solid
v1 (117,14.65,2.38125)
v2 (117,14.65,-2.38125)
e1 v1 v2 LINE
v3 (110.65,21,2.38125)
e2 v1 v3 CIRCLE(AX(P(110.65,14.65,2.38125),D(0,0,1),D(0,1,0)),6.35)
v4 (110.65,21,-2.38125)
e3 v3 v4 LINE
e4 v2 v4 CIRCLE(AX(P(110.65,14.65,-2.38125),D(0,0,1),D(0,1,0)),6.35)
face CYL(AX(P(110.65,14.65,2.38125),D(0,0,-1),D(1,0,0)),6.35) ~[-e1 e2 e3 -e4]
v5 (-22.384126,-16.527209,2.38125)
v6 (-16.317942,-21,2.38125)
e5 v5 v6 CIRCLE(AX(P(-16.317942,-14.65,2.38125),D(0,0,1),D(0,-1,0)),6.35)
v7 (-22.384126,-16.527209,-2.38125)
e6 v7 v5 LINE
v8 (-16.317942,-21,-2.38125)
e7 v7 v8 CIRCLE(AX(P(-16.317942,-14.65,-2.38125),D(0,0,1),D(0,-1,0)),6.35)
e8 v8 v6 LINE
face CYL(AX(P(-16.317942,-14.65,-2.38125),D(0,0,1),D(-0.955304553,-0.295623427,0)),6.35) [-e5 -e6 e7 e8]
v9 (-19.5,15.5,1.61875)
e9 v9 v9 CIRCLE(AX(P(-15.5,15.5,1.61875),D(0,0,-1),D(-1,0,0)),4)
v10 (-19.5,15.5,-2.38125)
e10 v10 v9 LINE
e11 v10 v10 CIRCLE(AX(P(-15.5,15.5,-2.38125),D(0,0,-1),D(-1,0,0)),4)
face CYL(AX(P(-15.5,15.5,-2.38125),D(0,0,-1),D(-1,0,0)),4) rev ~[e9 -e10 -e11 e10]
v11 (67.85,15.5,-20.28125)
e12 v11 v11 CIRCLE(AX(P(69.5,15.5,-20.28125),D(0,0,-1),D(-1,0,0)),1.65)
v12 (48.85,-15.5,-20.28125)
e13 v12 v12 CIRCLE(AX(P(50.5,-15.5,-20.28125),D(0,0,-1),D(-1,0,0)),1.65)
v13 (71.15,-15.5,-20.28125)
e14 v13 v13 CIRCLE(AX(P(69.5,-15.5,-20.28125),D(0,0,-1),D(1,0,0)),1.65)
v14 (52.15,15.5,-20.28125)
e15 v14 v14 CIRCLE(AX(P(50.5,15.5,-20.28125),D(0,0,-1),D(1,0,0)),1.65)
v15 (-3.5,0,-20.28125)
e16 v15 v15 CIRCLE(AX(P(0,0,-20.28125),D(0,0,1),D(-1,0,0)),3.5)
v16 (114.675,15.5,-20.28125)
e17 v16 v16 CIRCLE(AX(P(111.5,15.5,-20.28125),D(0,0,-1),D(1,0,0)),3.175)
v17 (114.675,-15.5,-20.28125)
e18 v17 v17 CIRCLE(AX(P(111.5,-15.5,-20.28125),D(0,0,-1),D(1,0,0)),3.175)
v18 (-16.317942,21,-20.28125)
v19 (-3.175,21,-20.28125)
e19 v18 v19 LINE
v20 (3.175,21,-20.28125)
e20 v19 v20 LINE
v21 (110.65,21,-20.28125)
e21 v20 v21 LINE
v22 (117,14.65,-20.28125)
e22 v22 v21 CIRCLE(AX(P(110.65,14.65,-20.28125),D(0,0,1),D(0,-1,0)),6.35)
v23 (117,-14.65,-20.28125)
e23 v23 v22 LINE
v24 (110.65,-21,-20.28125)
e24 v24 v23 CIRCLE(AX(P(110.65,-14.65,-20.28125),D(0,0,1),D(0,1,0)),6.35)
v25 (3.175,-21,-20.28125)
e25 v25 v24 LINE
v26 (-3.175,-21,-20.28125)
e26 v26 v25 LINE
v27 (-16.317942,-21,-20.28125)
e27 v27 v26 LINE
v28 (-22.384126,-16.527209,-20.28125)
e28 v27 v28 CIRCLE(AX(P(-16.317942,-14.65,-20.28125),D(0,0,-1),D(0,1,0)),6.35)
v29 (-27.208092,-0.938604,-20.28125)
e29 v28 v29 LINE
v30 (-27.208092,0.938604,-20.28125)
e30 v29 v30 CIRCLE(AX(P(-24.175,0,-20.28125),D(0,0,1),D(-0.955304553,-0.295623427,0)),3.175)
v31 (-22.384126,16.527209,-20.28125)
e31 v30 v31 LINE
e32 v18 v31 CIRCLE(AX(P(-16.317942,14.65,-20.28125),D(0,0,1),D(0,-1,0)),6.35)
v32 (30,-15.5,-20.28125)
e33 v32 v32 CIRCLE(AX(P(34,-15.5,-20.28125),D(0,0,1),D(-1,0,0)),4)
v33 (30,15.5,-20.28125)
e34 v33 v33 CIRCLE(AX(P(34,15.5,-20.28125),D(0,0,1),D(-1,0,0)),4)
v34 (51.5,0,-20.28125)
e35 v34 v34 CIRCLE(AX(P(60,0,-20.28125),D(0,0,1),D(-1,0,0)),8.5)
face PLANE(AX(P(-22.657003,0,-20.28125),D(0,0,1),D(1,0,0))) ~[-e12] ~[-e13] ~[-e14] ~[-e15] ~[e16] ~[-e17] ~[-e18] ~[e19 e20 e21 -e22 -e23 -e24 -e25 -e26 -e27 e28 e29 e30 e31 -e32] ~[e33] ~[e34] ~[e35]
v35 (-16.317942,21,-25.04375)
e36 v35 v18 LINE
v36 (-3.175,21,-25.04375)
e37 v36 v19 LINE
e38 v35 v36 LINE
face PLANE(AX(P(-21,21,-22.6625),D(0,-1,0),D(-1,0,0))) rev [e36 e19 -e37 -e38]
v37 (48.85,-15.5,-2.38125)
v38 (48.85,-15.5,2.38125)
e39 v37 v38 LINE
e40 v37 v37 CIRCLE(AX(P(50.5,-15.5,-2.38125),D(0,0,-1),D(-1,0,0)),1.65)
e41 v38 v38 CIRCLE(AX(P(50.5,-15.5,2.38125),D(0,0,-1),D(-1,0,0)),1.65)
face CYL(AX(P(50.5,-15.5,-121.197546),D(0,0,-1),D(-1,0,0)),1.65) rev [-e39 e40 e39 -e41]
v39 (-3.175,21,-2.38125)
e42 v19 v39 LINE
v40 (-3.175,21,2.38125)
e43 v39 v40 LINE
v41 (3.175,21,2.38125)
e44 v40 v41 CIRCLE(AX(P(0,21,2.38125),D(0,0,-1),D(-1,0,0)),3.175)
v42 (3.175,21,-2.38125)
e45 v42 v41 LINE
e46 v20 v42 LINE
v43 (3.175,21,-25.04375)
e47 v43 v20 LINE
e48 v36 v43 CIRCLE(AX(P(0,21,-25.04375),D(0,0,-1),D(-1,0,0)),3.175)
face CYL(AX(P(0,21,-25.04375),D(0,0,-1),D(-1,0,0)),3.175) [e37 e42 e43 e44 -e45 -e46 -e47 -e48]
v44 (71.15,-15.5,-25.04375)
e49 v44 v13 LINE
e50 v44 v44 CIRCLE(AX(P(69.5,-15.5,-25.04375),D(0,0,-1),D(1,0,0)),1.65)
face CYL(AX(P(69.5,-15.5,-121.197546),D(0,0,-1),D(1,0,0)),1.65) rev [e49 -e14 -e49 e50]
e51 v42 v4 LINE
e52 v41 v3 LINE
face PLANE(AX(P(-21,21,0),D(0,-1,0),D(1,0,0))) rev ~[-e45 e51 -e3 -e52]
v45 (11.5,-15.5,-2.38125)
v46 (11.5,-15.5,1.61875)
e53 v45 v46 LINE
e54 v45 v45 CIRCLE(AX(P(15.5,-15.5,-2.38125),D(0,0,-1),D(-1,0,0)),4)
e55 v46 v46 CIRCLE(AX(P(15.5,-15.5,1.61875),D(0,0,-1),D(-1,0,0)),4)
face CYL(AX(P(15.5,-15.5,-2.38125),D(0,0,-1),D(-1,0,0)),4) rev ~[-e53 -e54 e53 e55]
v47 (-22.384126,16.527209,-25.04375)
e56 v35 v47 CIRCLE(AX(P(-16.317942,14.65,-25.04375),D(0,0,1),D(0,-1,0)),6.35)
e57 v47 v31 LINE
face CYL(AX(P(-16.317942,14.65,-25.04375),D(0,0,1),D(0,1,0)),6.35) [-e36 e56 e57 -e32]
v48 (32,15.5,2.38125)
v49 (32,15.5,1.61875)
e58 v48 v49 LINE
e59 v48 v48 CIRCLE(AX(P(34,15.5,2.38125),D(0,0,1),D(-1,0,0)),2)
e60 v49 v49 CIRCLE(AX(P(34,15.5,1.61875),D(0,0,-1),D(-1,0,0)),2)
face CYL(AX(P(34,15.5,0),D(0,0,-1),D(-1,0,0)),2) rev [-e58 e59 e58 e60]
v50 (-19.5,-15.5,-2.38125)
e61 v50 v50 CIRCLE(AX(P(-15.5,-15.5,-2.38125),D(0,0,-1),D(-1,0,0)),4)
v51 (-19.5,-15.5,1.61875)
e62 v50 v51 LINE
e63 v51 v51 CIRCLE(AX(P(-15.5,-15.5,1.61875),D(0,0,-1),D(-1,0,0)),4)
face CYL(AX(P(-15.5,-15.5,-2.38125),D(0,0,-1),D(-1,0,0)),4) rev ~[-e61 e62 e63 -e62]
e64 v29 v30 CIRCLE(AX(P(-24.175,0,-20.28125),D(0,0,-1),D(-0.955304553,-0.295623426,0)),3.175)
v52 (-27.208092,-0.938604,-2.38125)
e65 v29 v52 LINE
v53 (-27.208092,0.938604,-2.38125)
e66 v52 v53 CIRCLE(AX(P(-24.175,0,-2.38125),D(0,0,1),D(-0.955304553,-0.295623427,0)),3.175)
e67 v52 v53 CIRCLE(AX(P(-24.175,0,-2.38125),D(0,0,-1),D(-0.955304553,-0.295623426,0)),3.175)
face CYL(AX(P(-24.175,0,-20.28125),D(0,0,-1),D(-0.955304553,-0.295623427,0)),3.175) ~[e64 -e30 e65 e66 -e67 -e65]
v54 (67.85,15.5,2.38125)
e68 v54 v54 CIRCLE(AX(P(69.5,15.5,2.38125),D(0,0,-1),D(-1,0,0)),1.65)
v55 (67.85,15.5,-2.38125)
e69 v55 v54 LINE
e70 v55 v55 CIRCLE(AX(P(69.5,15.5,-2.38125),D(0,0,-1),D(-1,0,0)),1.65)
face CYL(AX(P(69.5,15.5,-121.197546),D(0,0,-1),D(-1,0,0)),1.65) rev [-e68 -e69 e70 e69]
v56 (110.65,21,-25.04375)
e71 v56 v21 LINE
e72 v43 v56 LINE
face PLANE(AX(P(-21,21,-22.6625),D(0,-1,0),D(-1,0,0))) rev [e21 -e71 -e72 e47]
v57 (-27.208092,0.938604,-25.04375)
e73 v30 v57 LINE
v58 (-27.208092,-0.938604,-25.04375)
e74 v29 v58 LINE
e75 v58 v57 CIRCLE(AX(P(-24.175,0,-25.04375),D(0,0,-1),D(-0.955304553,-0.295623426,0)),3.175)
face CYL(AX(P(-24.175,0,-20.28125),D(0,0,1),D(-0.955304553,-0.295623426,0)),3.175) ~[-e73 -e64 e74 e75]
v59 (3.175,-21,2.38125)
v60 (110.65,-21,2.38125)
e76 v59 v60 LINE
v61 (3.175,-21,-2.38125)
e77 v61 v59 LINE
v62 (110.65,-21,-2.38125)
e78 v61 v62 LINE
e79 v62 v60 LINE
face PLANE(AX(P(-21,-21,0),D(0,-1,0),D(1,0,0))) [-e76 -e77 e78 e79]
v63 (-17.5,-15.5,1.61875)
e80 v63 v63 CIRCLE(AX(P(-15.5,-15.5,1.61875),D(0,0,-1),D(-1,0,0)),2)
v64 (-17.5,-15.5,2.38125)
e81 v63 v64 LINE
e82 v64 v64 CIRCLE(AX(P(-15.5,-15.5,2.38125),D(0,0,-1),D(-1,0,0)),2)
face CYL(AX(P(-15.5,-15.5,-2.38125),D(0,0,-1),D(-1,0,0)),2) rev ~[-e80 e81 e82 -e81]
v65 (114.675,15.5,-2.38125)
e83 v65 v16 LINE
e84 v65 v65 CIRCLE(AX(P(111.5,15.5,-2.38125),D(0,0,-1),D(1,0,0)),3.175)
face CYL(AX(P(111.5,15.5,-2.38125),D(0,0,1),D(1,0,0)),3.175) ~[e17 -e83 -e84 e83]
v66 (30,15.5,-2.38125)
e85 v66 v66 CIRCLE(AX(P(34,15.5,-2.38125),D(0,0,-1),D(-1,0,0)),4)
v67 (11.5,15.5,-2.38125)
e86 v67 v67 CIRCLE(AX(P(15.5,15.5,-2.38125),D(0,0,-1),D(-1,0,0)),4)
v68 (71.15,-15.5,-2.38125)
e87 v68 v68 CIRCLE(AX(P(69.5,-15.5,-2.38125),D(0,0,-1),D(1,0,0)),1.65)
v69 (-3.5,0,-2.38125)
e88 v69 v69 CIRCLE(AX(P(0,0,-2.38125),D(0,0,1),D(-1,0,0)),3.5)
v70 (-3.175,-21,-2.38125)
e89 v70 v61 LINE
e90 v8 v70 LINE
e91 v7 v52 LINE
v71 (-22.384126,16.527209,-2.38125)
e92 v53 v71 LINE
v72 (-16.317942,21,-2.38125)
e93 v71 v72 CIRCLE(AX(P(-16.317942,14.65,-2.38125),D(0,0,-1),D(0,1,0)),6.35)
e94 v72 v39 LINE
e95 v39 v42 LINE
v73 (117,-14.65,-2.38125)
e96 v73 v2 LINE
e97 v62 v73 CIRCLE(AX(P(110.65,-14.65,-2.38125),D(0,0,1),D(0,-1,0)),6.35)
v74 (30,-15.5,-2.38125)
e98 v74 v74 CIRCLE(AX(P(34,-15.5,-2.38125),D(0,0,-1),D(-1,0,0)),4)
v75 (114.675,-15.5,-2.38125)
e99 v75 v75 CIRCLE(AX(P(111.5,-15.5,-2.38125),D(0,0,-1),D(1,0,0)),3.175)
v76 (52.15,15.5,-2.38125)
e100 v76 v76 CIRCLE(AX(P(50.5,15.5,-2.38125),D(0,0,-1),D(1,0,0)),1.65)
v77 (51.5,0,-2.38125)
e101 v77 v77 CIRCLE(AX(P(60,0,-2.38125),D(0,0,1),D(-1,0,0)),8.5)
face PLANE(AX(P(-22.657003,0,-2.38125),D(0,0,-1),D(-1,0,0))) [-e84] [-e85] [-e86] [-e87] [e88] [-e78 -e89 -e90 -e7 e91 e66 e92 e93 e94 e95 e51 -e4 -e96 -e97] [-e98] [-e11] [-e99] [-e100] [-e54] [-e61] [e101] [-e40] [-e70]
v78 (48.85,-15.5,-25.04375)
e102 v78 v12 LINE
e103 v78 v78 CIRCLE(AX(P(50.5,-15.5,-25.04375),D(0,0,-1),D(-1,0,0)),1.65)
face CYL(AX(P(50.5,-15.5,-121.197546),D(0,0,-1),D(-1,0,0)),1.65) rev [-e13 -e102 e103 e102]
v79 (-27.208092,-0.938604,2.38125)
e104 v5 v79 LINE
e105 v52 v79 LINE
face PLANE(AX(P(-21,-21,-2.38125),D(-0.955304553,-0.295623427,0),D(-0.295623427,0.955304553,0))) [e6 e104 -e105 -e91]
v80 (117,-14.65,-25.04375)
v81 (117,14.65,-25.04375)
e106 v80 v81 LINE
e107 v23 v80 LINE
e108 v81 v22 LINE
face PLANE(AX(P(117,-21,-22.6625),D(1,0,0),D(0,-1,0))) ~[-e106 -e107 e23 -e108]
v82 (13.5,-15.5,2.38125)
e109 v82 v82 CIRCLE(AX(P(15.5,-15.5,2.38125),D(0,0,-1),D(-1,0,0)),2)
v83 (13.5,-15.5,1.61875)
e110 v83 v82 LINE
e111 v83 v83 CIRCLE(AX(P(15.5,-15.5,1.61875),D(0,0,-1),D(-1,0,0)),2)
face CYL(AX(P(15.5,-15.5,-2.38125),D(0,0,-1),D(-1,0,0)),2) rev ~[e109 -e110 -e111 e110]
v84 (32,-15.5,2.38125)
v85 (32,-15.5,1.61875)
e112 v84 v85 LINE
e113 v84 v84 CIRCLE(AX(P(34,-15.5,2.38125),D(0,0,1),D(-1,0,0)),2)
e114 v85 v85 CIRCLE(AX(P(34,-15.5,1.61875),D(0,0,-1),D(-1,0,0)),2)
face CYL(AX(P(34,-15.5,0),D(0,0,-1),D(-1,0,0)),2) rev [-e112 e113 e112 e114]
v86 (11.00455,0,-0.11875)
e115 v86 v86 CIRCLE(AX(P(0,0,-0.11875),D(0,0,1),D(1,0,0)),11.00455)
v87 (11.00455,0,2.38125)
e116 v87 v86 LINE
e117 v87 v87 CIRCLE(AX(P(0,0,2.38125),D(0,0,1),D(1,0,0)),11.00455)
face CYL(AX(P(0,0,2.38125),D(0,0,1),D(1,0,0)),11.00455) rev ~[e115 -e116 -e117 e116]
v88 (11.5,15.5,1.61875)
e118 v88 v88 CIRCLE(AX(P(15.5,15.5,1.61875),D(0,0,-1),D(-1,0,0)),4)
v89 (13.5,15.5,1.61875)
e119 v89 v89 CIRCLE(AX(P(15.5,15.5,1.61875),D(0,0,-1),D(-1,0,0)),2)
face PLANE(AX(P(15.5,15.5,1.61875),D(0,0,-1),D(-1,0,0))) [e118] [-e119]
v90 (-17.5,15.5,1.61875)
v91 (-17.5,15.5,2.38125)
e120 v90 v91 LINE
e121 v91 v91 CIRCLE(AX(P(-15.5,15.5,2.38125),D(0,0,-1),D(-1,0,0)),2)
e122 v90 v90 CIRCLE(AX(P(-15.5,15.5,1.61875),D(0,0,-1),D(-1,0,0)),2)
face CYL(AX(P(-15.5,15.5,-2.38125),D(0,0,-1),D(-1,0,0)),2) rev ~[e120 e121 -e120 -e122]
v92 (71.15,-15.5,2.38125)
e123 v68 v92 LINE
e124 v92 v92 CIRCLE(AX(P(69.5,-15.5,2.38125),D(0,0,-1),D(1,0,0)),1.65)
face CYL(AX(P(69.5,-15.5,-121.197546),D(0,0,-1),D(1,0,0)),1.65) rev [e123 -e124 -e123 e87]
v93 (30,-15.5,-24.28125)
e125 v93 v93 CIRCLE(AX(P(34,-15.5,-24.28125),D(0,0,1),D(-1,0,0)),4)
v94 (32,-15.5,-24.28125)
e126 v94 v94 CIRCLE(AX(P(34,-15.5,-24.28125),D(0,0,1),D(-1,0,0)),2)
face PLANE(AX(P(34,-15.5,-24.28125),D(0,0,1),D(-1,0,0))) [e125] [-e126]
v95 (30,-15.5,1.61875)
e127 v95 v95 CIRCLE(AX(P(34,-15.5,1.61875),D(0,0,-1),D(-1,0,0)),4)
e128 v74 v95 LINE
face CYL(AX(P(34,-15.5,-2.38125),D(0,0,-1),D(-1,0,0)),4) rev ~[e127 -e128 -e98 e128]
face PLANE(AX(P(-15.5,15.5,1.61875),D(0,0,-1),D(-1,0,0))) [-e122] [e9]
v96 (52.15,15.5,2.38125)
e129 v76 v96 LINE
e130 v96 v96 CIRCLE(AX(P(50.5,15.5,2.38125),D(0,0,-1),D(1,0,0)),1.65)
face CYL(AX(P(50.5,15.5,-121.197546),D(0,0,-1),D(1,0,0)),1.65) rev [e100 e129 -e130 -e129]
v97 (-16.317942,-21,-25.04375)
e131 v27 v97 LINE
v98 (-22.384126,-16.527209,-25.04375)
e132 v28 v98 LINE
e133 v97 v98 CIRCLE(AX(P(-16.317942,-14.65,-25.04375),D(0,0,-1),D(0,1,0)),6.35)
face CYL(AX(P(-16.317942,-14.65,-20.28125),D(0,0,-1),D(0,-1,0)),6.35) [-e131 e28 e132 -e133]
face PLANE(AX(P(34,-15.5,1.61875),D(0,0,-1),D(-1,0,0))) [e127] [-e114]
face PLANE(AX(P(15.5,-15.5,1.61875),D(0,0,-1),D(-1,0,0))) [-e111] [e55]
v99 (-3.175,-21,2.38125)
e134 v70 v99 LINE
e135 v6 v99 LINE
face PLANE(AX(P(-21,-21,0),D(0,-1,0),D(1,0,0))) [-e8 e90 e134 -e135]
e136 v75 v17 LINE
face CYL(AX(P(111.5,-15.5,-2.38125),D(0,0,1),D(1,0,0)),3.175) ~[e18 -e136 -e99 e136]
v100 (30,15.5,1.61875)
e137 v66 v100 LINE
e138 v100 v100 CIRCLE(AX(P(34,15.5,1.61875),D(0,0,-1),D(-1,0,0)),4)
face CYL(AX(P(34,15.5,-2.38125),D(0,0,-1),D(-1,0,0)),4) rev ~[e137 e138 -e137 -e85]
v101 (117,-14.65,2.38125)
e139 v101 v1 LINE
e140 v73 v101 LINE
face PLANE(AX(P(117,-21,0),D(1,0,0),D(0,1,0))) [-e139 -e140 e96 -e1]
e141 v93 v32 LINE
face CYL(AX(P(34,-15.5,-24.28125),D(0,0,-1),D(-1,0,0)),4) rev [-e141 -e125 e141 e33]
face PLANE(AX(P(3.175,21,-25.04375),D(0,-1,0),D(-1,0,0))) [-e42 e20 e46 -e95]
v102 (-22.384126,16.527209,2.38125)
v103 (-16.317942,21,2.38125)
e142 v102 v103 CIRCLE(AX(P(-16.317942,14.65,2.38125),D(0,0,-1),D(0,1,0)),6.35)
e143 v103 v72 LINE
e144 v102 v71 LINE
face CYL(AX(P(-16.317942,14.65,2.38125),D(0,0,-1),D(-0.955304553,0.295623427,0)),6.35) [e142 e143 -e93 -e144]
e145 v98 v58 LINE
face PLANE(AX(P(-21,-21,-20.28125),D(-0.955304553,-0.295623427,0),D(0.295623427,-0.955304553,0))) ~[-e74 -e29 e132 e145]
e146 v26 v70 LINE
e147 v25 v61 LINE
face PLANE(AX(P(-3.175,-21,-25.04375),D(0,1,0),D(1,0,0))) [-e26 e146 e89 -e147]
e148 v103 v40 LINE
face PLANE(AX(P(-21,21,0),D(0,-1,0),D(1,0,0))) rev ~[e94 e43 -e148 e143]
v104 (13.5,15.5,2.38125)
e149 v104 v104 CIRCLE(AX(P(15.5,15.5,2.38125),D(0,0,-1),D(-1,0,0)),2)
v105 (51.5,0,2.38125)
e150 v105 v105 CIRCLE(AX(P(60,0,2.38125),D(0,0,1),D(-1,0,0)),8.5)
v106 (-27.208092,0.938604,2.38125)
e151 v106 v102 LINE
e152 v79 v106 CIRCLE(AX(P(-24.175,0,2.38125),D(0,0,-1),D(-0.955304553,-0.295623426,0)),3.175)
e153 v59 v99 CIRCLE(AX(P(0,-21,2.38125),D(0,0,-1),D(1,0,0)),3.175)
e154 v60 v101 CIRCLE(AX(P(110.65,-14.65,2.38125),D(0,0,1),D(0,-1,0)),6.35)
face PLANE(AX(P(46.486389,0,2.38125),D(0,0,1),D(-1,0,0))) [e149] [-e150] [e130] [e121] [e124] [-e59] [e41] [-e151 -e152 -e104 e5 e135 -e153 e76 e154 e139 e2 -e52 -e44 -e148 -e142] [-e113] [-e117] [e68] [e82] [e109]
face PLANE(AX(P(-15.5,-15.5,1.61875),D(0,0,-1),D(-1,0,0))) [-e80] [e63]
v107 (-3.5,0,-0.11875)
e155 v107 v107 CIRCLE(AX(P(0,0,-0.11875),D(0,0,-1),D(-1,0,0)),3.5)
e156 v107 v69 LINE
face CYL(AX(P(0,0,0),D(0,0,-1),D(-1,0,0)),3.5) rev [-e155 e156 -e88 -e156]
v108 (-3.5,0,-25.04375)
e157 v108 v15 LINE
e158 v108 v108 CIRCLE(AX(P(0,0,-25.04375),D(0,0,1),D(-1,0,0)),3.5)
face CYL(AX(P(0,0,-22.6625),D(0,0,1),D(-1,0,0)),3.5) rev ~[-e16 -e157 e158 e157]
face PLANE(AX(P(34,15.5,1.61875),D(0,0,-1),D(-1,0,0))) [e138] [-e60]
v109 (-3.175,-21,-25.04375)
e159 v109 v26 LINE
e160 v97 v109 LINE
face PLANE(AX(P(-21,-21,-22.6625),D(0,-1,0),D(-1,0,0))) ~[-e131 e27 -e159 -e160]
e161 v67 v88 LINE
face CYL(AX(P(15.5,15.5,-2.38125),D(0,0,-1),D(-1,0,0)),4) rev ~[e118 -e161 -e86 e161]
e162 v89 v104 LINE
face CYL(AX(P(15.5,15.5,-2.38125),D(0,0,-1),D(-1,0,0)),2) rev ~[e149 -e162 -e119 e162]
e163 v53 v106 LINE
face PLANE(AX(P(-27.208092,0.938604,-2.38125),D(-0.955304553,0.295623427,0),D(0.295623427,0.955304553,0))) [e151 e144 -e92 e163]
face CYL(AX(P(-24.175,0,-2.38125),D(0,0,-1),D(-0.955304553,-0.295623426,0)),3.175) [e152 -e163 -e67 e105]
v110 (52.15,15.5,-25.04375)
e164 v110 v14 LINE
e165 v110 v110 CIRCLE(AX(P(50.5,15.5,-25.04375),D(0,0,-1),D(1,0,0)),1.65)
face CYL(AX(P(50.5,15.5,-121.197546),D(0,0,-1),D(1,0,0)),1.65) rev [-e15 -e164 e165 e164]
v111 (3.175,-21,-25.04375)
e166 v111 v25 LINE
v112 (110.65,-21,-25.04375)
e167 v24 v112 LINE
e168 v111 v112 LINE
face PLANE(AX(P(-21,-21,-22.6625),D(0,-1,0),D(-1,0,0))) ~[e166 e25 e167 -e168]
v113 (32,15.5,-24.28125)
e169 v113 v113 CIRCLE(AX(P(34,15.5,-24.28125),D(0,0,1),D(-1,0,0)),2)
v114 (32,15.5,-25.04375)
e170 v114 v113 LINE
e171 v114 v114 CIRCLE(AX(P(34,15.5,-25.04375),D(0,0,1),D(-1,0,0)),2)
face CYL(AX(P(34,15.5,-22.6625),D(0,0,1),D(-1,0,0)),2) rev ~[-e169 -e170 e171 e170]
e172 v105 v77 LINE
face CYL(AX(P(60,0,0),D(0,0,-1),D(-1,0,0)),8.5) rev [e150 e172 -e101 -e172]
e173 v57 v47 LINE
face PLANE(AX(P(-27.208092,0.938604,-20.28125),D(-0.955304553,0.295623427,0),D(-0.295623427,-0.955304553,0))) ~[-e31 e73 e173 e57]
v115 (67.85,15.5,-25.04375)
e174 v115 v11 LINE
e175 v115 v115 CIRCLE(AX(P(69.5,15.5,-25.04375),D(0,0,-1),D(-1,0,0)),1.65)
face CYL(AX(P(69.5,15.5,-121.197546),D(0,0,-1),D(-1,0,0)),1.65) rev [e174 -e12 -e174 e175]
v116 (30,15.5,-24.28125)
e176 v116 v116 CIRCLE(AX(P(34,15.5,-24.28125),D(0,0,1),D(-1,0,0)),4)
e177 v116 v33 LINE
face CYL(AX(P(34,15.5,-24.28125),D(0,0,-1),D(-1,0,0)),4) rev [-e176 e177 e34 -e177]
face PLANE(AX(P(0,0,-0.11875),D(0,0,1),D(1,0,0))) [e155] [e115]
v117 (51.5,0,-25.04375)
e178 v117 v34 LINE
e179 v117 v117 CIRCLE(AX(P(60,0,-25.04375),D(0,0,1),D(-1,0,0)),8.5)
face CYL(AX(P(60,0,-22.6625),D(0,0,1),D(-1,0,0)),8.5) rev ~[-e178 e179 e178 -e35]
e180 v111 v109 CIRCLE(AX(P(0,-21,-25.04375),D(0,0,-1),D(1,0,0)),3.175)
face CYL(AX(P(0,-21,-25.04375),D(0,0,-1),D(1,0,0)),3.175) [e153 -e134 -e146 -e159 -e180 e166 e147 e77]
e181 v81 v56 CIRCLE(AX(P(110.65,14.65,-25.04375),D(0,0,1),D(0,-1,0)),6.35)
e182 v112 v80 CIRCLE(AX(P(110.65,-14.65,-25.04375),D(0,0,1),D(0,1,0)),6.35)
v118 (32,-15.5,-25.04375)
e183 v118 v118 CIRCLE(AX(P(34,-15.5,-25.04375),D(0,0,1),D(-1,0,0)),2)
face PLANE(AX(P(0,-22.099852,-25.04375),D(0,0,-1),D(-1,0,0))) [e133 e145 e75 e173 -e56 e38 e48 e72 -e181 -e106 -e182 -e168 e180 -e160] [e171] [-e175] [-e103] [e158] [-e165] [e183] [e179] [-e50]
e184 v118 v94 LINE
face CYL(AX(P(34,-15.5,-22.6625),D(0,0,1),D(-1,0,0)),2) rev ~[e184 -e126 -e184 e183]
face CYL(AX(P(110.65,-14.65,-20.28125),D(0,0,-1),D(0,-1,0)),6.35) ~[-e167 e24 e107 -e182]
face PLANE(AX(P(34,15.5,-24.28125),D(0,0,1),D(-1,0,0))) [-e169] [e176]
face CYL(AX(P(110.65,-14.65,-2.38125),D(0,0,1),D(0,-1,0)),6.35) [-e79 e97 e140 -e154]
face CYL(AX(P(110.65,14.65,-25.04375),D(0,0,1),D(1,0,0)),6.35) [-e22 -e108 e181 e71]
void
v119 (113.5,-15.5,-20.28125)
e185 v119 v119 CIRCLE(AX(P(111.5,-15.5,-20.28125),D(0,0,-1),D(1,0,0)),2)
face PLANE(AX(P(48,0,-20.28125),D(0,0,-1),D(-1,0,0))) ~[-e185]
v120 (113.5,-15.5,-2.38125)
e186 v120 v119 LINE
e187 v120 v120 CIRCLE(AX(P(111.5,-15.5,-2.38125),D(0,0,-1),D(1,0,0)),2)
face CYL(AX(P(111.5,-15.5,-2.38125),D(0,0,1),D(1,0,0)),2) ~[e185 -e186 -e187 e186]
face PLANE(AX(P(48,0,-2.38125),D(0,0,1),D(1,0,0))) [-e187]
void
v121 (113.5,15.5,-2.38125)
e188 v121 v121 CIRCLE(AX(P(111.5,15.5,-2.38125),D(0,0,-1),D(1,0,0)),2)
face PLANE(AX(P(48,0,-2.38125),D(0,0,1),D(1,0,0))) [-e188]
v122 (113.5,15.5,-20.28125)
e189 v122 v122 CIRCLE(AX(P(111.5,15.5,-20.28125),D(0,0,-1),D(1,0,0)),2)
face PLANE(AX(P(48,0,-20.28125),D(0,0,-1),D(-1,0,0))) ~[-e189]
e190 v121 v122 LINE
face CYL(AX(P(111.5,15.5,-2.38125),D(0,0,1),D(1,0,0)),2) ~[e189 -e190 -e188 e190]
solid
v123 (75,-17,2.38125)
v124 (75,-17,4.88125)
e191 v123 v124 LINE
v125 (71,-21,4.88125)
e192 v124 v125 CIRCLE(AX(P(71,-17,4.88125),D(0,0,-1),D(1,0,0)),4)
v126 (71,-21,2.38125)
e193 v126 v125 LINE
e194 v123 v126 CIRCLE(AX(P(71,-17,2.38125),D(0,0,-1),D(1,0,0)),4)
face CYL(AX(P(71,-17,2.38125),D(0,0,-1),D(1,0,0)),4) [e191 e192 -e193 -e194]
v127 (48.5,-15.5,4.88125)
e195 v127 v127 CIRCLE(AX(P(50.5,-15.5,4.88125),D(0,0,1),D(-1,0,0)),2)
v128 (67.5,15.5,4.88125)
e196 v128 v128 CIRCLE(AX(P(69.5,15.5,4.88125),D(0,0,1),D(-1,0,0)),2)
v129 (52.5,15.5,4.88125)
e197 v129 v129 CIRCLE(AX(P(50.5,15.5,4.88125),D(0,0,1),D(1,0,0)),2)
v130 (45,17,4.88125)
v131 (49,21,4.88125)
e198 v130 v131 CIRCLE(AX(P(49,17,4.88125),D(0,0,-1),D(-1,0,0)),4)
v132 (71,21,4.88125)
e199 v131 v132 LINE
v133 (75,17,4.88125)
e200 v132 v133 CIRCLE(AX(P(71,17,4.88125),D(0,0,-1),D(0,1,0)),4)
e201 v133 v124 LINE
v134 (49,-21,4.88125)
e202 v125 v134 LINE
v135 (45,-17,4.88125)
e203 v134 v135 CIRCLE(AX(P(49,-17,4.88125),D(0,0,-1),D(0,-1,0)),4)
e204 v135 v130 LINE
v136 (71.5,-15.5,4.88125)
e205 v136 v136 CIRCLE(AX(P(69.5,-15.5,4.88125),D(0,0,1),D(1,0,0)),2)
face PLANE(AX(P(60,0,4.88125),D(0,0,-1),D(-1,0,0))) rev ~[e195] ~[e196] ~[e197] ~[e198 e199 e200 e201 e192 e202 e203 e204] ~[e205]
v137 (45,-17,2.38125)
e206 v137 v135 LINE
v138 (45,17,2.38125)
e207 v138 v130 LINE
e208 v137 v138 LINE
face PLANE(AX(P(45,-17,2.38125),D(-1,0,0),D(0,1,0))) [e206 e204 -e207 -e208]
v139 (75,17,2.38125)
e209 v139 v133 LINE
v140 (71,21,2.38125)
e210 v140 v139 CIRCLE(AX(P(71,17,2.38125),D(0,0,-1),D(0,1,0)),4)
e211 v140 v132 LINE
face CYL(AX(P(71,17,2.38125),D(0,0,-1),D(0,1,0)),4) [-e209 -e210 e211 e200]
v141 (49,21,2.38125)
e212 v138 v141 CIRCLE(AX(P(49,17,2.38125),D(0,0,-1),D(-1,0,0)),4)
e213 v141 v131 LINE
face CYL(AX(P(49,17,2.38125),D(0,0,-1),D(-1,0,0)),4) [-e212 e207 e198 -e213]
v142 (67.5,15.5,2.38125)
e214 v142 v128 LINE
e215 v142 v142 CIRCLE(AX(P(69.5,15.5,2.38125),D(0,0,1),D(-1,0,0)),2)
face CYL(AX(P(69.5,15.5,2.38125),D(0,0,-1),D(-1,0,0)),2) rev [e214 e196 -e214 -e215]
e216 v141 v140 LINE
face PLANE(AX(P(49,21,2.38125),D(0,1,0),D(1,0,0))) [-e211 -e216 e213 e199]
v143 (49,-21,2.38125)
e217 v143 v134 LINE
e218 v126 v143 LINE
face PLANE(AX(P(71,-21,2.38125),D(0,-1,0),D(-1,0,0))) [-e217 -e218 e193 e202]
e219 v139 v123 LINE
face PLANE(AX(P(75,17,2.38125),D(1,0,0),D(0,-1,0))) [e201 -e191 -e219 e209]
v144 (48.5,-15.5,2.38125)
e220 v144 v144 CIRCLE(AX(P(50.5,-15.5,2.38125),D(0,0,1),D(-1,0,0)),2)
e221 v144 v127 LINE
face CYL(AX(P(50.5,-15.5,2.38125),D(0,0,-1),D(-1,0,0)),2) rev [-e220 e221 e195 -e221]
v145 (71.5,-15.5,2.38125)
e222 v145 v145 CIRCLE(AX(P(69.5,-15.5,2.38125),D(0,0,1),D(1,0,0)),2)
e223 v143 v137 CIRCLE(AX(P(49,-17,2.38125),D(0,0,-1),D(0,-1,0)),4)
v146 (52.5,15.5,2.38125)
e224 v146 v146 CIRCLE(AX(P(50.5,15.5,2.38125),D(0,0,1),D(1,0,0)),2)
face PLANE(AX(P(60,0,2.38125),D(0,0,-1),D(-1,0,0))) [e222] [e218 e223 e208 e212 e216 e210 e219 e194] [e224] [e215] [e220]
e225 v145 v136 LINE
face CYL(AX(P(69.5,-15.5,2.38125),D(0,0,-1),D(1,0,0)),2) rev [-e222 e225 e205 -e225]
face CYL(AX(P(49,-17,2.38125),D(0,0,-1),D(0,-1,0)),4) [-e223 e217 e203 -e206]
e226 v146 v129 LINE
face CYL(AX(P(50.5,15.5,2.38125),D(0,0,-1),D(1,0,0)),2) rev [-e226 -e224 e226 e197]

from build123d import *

# Parameters (mm, degrees)
SKETCH2_W               = 138
SKETCH2_H               = 42
SKETCH2_R               = 2
SKETCH2_R_2             = 3.5
SKETCH2_R_3             = 8.5
BOSS_EXTRUDE1_DEPTH     = 2.38125
SKETCH3_R               = 4
SKETCH3_R_2             = 2
CUT_EXTRUDE1_DEPTH      = 4
SKETCH4_R               = 3.175
SKETCH4_R_2             = 2
BOSS_EXTRUDE2_DEPTH     = 17.9
SKETCH6_R               = 2
CUT_EXTRUDE2_DEPTH      = 10
BOSS_EXTRUDE3_DEPTH     = 4.7625
SKETCH7_R               = 3.175
BOSS_EXTRUDE4_DEPTH     = 17.9
FILLET1_R               = 6.35
BOSS_EXTRUDE5_REACH     = 123.992
CUT_EXTRUDE4_START      = -4
SKETCH9_R               = 4
CUT_EXTRUDE4_DEPTH      = 4
SKETCH10_R              = 11.00455
CUT_EXTRUDE5_DEPTH      = 2.5
CUT_EXTRUDE6_DEPTH      = 123.578796086
CUT_EXTRUDE6_DEPTH_BACK = 123.578796086
SKETCH11_R              = 1.65
SKETCH12_R              = 2
BOSS_EXTRUDE6_DEPTH     = 2.5


with BuildPart() as part:
    # Sketch2 → Boss-Extrude1 (new, symmetric)
    with BuildSketch(Plane.XY):
        with Locations((48, 0)):
            Rectangle(SKETCH2_W, SKETCH2_H)
        with Locations(Location((34, -15.5, 0), (0, 0, 180))):
            Circle(SKETCH2_R, mode=Mode.SUBTRACT)
        with Locations(Location((34, 15.5, 0), (0, 0, 180))):
            Circle(SKETCH2_R, mode=Mode.SUBTRACT)
        with Locations(Location((0, 0, 0), (0, 0, 180))):
            Circle(SKETCH2_R_2, mode=Mode.SUBTRACT)
        with Locations(Location((60, 0, 0), (0, 0, 180))):
            Circle(SKETCH2_R_3, mode=Mode.SUBTRACT)
    boss_extrude1 = extrude(amount=BOSS_EXTRUDE1_DEPTH, both=True)

    # Sketch3 → Cut-Extrude1 (cut)
    # profile 1 of 6: a face of its own
    with BuildSketch(Plane(origin=(0, 0, -2.38125), x_dir=(-1, 0, 0), z_dir=(0, 0, -1))):
        with Locations((-34, -15.5)):
            Circle(SKETCH3_R)
    # profile 2 of 6: a face of its own
    with BuildSketch(Plane(origin=(0, 0, -2.38125), x_dir=(-1, 0, 0), z_dir=(0, 0, -1))):
        with Locations((-34, 15.5)):
            Circle(SKETCH3_R)
        with Locations((-34, 15.5)):
            Circle(SKETCH3_R_2, mode=Mode.SUBTRACT)
    # profile 3 of 6: a face of its own
    with BuildSketch(Plane(origin=(0, 0, -2.38125), x_dir=(-1, 0, 0), z_dir=(0, 0, -1))):
        with Locations((-15.5, 15.5)):
            Circle(SKETCH3_R)
    # profile 4 of 6: a face of its own
    with BuildSketch(Plane(origin=(0, 0, -2.38125), x_dir=(-1, 0, 0), z_dir=(0, 0, -1))):
        with Locations((15.5, 15.5)):
            Circle(SKETCH3_R)
    # profile 5 of 6: a face of its own
    with BuildSketch(Plane(origin=(0, 0, -2.38125), x_dir=(-1, 0, 0), z_dir=(0, 0, -1))):
        with Locations((-15.5, -15.5)):
            Circle(SKETCH3_R)
    # profile 6 of 6: a face of its own
    with BuildSketch(Plane(origin=(0, 0, -2.38125), x_dir=(-1, 0, 0), z_dir=(0, 0, -1))):
        with Locations((15.5, -15.5)):
            Circle(SKETCH3_R)
    extrude(amount=-CUT_EXTRUDE1_DEPTH, mode=Mode.SUBTRACT)

    # Sketch4 → Boss-Extrude2 (add)
    # profile 1 of 2: a face of its own
    with BuildSketch(Plane(origin=(0, 0, -2.38125), x_dir=(-1, 0, 0), z_dir=(0, 0, -1))):
        with Locations(Location((-111.5, -15.5, 0), (0, 0, 180))):
            Circle(SKETCH4_R)
        with Locations(Location((-111.5, -15.5, 0), (0, 0, 180))):
            Circle(SKETCH4_R_2, mode=Mode.SUBTRACT)
    # profile 2 of 2: a face of its own
    with BuildSketch(Plane(origin=(0, 0, -2.38125), x_dir=(-1, 0, 0), z_dir=(0, 0, -1))):
        with Locations(Location((-111.5, 15.5, 0), (0, 0, 180))):
            Circle(SKETCH4_R)
        with Locations(Location((-111.5, 15.5, 0), (0, 0, 180))):
            Circle(SKETCH4_R_2, mode=Mode.SUBTRACT)
    extrude(amount=BOSS_EXTRUDE2_DEPTH)

    # Sketch6 → Cut-Extrude2 (cut)
    with BuildSketch(Plane(origin=(0, 0, -2.38125), x_dir=(-1, 0, 0), z_dir=(0, 0, -1))):
        with Locations((-15.5, 15.5)):
            Circle(SKETCH6_R)
        with Locations((15.5, 15.5)):
            Circle(SKETCH6_R)
        with Locations((15.5, -15.5)):
            Circle(SKETCH6_R)
        with Locations((-15.5, -15.5)):
            Circle(SKETCH6_R)
    extrude(amount=-CUT_EXTRUDE2_DEPTH, mode=Mode.SUBTRACT)

    # Sketch5 → Boss-Extrude3 (add)
    with BuildSketch(Plane(origin=(0, 0, -2.38125), x_dir=(-1, 0, 0), z_dir=(0, 0, -1))):
        with BuildLine():
            Line((21, -21), (27.208091957, -0.938604379))
            ThreePointArc((27.208091957, -0.938604379), (27.35, 0), (27.208091957, 0.938604379))
            Line((27.208091957, 0.938604379), (21, 21))
            Line((21, 21), (21, -21))
        make_face()
    boss_extrude3 = extrude(amount=-BOSS_EXTRUDE3_DEPTH)

    # Mirror2: Boss-Extrude1, Boss-Extrude3 across plane
    add(boss_extrude1.mirror(Plane(origin=(0, 0, -11.33125), x_dir=(1, 0, 0), z_dir=(0, 0, -1))))
    add(boss_extrude3.mirror(Plane(origin=(0, 0, -11.33125), x_dir=(1, 0, 0), z_dir=(0, 0, -1))))

    # Sketch7 → Boss-Extrude4 (add)
    with BuildSketch(Plane.XY.offset(-20.28125)):
        with Locations(Location((-24.175, 0, 0), (0, 0, 197.194924512))):
            Circle(SKETCH7_R)
    extrude(amount=BOSS_EXTRUDE4_DEPTH)

    # Fillet1
    fillet1_edges = [part.edges().sort_by_distance(p)[0] for p in [
        (117, 21, -22.6625),
        (117, -21, -22.6625),
        (-21, -21, -22.6625),
        (-21, 21, -22.6625),
        (117, -21, 0),
        (-21, -21, 0),
        (-21, 21, 0),
        (117, 21, 0),
    ]]
    fillet(fillet1_edges, radius=FILLET1_R)

    # Boss-Extrude5: up to this face of the body (flat: up to its plane)
    boss_extrude5_end = Plane(part.part.faces().sort_by_distance((46.486388536, 0, 2.38125))[0])
    # Sketch8 → Boss-Extrude5 (add, up to the picked face)
    with BuildSketch(Plane(origin=(0, 0, -25.04375), x_dir=(-1, 0, 0), z_dir=(0, 0, -1)), mode=Mode.PRIVATE) as boss_extrude5_sk1:
        with BuildLine():
            ThreePointArc((3.175, 21), (0, 24.175), (-3.175, 21))
            Line((-3.175, 21), (3.175, 21))
        make_face()
    boss_extrude5_tool1 = split(extrude(boss_extrude5_sk1.sketch, amount=-BOSS_EXTRUDE5_REACH, mode=Mode.PRIVATE), bisect_by=boss_extrude5_end, keep=Keep.BOTH, mode=Mode.PRIVATE)
    # Sketch8 → Boss-Extrude5 (add, up to the picked face)
    with BuildSketch(Plane(origin=(0, 0, -25.04375), x_dir=(-1, 0, 0), z_dir=(0, 0, -1)), mode=Mode.PRIVATE) as boss_extrude5_sk2:
        with BuildLine():
            Line((3.175, -21), (-3.175, -21))
            ThreePointArc((-3.175, -21), (0, -24.175), (3.175, -21))
        make_face()
    boss_extrude5_tool2 = split(extrude(boss_extrude5_sk2.sketch, amount=-BOSS_EXTRUDE5_REACH, mode=Mode.PRIVATE), bisect_by=boss_extrude5_end, keep=Keep.BOTH, mode=Mode.PRIVATE)
    add(boss_extrude5_tool1.solids().sort_by(Axis((0, 22.347512, -25.04375), (0, 0, 1)))[0])
    add(boss_extrude5_tool2.solids().sort_by(Axis((0, -22.347512, -25.04375), (0, 0, 1)))[0])

    # Sketch9 → Cut-Extrude4 (cut)
    with BuildSketch(Plane.XY.offset(-20.28125).offset(CUT_EXTRUDE4_START)):
        with Locations(Location((34, -15.5, 0), (0, 0, 180))):
            Circle(SKETCH9_R)
        with Locations(Location((34, 15.5, 0), (0, 0, 180))):
            Circle(SKETCH9_R)
    extrude(amount=CUT_EXTRUDE4_DEPTH, mode=Mode.SUBTRACT)

    # Sketch10 → Cut-Extrude5 (cut)
    with BuildSketch(Plane.XY.offset(2.38125)):
        Circle(SKETCH10_R)
    extrude(amount=-CUT_EXTRUDE5_DEPTH, mode=Mode.SUBTRACT)

    # Sketch11 → Cut-Extrude6 (cut, two sides: drawn at the far end of the back side and taken through both)
    with BuildSketch(Plane.XY.offset(2.38125).offset(-CUT_EXTRUDE6_DEPTH_BACK)):
        with Locations((50.5, 15.5)):
            Circle(SKETCH11_R)
        with Locations(Location((69.5, 15.5, 0), (0, 0, 180))):
            Circle(SKETCH11_R)
        with Locations((69.5, -15.5)):
            Circle(SKETCH11_R)
        with Locations(Location((50.5, -15.5, 0), (0, 0, 180))):
            Circle(SKETCH11_R)
    extrude(amount=CUT_EXTRUDE6_DEPTH + CUT_EXTRUDE6_DEPTH_BACK, mode=Mode.SUBTRACT)


with BuildPart() as body_2:
    # Sketch12 → Boss-Extrude6 (new body)
    with BuildSketch(Plane.XY.offset(2.38125)):
        with BuildLine():
            Line((49, 21), (71, 21))
            ThreePointArc((71, 21), (73.828427125, 19.828427125), (75, 17))
            Line((75, 17), (75, -17))
            ThreePointArc((75, -17), (73.828427125, -19.828427125), (71, -21))
            Line((71, -21), (49, -21))
            ThreePointArc((49, -21), (46.171572875, -19.828427125), (45, -17))
            Line((45, -17), (45, 17))
            ThreePointArc((45, 17), (46.171572875, 19.828427125), (49, 21))
        make_face()
        with Locations((50.5, 15.5)):
            Circle(SKETCH12_R, mode=Mode.SUBTRACT)
        with Locations(Location((69.5, 15.5, 0), (0, 0, 180))):
            Circle(SKETCH12_R, mode=Mode.SUBTRACT)
        with Locations((69.5, -15.5)):
            Circle(SKETCH12_R, mode=Mode.SUBTRACT)
        with Locations(Location((50.5, -15.5, 0), (0, 0, 180))):
            Circle(SKETCH12_R, mode=Mode.SUBTRACT)
    extrude(amount=BOSS_EXTRUDE6_DEPTH)


solid = Compound([part.part, body_2.part])
